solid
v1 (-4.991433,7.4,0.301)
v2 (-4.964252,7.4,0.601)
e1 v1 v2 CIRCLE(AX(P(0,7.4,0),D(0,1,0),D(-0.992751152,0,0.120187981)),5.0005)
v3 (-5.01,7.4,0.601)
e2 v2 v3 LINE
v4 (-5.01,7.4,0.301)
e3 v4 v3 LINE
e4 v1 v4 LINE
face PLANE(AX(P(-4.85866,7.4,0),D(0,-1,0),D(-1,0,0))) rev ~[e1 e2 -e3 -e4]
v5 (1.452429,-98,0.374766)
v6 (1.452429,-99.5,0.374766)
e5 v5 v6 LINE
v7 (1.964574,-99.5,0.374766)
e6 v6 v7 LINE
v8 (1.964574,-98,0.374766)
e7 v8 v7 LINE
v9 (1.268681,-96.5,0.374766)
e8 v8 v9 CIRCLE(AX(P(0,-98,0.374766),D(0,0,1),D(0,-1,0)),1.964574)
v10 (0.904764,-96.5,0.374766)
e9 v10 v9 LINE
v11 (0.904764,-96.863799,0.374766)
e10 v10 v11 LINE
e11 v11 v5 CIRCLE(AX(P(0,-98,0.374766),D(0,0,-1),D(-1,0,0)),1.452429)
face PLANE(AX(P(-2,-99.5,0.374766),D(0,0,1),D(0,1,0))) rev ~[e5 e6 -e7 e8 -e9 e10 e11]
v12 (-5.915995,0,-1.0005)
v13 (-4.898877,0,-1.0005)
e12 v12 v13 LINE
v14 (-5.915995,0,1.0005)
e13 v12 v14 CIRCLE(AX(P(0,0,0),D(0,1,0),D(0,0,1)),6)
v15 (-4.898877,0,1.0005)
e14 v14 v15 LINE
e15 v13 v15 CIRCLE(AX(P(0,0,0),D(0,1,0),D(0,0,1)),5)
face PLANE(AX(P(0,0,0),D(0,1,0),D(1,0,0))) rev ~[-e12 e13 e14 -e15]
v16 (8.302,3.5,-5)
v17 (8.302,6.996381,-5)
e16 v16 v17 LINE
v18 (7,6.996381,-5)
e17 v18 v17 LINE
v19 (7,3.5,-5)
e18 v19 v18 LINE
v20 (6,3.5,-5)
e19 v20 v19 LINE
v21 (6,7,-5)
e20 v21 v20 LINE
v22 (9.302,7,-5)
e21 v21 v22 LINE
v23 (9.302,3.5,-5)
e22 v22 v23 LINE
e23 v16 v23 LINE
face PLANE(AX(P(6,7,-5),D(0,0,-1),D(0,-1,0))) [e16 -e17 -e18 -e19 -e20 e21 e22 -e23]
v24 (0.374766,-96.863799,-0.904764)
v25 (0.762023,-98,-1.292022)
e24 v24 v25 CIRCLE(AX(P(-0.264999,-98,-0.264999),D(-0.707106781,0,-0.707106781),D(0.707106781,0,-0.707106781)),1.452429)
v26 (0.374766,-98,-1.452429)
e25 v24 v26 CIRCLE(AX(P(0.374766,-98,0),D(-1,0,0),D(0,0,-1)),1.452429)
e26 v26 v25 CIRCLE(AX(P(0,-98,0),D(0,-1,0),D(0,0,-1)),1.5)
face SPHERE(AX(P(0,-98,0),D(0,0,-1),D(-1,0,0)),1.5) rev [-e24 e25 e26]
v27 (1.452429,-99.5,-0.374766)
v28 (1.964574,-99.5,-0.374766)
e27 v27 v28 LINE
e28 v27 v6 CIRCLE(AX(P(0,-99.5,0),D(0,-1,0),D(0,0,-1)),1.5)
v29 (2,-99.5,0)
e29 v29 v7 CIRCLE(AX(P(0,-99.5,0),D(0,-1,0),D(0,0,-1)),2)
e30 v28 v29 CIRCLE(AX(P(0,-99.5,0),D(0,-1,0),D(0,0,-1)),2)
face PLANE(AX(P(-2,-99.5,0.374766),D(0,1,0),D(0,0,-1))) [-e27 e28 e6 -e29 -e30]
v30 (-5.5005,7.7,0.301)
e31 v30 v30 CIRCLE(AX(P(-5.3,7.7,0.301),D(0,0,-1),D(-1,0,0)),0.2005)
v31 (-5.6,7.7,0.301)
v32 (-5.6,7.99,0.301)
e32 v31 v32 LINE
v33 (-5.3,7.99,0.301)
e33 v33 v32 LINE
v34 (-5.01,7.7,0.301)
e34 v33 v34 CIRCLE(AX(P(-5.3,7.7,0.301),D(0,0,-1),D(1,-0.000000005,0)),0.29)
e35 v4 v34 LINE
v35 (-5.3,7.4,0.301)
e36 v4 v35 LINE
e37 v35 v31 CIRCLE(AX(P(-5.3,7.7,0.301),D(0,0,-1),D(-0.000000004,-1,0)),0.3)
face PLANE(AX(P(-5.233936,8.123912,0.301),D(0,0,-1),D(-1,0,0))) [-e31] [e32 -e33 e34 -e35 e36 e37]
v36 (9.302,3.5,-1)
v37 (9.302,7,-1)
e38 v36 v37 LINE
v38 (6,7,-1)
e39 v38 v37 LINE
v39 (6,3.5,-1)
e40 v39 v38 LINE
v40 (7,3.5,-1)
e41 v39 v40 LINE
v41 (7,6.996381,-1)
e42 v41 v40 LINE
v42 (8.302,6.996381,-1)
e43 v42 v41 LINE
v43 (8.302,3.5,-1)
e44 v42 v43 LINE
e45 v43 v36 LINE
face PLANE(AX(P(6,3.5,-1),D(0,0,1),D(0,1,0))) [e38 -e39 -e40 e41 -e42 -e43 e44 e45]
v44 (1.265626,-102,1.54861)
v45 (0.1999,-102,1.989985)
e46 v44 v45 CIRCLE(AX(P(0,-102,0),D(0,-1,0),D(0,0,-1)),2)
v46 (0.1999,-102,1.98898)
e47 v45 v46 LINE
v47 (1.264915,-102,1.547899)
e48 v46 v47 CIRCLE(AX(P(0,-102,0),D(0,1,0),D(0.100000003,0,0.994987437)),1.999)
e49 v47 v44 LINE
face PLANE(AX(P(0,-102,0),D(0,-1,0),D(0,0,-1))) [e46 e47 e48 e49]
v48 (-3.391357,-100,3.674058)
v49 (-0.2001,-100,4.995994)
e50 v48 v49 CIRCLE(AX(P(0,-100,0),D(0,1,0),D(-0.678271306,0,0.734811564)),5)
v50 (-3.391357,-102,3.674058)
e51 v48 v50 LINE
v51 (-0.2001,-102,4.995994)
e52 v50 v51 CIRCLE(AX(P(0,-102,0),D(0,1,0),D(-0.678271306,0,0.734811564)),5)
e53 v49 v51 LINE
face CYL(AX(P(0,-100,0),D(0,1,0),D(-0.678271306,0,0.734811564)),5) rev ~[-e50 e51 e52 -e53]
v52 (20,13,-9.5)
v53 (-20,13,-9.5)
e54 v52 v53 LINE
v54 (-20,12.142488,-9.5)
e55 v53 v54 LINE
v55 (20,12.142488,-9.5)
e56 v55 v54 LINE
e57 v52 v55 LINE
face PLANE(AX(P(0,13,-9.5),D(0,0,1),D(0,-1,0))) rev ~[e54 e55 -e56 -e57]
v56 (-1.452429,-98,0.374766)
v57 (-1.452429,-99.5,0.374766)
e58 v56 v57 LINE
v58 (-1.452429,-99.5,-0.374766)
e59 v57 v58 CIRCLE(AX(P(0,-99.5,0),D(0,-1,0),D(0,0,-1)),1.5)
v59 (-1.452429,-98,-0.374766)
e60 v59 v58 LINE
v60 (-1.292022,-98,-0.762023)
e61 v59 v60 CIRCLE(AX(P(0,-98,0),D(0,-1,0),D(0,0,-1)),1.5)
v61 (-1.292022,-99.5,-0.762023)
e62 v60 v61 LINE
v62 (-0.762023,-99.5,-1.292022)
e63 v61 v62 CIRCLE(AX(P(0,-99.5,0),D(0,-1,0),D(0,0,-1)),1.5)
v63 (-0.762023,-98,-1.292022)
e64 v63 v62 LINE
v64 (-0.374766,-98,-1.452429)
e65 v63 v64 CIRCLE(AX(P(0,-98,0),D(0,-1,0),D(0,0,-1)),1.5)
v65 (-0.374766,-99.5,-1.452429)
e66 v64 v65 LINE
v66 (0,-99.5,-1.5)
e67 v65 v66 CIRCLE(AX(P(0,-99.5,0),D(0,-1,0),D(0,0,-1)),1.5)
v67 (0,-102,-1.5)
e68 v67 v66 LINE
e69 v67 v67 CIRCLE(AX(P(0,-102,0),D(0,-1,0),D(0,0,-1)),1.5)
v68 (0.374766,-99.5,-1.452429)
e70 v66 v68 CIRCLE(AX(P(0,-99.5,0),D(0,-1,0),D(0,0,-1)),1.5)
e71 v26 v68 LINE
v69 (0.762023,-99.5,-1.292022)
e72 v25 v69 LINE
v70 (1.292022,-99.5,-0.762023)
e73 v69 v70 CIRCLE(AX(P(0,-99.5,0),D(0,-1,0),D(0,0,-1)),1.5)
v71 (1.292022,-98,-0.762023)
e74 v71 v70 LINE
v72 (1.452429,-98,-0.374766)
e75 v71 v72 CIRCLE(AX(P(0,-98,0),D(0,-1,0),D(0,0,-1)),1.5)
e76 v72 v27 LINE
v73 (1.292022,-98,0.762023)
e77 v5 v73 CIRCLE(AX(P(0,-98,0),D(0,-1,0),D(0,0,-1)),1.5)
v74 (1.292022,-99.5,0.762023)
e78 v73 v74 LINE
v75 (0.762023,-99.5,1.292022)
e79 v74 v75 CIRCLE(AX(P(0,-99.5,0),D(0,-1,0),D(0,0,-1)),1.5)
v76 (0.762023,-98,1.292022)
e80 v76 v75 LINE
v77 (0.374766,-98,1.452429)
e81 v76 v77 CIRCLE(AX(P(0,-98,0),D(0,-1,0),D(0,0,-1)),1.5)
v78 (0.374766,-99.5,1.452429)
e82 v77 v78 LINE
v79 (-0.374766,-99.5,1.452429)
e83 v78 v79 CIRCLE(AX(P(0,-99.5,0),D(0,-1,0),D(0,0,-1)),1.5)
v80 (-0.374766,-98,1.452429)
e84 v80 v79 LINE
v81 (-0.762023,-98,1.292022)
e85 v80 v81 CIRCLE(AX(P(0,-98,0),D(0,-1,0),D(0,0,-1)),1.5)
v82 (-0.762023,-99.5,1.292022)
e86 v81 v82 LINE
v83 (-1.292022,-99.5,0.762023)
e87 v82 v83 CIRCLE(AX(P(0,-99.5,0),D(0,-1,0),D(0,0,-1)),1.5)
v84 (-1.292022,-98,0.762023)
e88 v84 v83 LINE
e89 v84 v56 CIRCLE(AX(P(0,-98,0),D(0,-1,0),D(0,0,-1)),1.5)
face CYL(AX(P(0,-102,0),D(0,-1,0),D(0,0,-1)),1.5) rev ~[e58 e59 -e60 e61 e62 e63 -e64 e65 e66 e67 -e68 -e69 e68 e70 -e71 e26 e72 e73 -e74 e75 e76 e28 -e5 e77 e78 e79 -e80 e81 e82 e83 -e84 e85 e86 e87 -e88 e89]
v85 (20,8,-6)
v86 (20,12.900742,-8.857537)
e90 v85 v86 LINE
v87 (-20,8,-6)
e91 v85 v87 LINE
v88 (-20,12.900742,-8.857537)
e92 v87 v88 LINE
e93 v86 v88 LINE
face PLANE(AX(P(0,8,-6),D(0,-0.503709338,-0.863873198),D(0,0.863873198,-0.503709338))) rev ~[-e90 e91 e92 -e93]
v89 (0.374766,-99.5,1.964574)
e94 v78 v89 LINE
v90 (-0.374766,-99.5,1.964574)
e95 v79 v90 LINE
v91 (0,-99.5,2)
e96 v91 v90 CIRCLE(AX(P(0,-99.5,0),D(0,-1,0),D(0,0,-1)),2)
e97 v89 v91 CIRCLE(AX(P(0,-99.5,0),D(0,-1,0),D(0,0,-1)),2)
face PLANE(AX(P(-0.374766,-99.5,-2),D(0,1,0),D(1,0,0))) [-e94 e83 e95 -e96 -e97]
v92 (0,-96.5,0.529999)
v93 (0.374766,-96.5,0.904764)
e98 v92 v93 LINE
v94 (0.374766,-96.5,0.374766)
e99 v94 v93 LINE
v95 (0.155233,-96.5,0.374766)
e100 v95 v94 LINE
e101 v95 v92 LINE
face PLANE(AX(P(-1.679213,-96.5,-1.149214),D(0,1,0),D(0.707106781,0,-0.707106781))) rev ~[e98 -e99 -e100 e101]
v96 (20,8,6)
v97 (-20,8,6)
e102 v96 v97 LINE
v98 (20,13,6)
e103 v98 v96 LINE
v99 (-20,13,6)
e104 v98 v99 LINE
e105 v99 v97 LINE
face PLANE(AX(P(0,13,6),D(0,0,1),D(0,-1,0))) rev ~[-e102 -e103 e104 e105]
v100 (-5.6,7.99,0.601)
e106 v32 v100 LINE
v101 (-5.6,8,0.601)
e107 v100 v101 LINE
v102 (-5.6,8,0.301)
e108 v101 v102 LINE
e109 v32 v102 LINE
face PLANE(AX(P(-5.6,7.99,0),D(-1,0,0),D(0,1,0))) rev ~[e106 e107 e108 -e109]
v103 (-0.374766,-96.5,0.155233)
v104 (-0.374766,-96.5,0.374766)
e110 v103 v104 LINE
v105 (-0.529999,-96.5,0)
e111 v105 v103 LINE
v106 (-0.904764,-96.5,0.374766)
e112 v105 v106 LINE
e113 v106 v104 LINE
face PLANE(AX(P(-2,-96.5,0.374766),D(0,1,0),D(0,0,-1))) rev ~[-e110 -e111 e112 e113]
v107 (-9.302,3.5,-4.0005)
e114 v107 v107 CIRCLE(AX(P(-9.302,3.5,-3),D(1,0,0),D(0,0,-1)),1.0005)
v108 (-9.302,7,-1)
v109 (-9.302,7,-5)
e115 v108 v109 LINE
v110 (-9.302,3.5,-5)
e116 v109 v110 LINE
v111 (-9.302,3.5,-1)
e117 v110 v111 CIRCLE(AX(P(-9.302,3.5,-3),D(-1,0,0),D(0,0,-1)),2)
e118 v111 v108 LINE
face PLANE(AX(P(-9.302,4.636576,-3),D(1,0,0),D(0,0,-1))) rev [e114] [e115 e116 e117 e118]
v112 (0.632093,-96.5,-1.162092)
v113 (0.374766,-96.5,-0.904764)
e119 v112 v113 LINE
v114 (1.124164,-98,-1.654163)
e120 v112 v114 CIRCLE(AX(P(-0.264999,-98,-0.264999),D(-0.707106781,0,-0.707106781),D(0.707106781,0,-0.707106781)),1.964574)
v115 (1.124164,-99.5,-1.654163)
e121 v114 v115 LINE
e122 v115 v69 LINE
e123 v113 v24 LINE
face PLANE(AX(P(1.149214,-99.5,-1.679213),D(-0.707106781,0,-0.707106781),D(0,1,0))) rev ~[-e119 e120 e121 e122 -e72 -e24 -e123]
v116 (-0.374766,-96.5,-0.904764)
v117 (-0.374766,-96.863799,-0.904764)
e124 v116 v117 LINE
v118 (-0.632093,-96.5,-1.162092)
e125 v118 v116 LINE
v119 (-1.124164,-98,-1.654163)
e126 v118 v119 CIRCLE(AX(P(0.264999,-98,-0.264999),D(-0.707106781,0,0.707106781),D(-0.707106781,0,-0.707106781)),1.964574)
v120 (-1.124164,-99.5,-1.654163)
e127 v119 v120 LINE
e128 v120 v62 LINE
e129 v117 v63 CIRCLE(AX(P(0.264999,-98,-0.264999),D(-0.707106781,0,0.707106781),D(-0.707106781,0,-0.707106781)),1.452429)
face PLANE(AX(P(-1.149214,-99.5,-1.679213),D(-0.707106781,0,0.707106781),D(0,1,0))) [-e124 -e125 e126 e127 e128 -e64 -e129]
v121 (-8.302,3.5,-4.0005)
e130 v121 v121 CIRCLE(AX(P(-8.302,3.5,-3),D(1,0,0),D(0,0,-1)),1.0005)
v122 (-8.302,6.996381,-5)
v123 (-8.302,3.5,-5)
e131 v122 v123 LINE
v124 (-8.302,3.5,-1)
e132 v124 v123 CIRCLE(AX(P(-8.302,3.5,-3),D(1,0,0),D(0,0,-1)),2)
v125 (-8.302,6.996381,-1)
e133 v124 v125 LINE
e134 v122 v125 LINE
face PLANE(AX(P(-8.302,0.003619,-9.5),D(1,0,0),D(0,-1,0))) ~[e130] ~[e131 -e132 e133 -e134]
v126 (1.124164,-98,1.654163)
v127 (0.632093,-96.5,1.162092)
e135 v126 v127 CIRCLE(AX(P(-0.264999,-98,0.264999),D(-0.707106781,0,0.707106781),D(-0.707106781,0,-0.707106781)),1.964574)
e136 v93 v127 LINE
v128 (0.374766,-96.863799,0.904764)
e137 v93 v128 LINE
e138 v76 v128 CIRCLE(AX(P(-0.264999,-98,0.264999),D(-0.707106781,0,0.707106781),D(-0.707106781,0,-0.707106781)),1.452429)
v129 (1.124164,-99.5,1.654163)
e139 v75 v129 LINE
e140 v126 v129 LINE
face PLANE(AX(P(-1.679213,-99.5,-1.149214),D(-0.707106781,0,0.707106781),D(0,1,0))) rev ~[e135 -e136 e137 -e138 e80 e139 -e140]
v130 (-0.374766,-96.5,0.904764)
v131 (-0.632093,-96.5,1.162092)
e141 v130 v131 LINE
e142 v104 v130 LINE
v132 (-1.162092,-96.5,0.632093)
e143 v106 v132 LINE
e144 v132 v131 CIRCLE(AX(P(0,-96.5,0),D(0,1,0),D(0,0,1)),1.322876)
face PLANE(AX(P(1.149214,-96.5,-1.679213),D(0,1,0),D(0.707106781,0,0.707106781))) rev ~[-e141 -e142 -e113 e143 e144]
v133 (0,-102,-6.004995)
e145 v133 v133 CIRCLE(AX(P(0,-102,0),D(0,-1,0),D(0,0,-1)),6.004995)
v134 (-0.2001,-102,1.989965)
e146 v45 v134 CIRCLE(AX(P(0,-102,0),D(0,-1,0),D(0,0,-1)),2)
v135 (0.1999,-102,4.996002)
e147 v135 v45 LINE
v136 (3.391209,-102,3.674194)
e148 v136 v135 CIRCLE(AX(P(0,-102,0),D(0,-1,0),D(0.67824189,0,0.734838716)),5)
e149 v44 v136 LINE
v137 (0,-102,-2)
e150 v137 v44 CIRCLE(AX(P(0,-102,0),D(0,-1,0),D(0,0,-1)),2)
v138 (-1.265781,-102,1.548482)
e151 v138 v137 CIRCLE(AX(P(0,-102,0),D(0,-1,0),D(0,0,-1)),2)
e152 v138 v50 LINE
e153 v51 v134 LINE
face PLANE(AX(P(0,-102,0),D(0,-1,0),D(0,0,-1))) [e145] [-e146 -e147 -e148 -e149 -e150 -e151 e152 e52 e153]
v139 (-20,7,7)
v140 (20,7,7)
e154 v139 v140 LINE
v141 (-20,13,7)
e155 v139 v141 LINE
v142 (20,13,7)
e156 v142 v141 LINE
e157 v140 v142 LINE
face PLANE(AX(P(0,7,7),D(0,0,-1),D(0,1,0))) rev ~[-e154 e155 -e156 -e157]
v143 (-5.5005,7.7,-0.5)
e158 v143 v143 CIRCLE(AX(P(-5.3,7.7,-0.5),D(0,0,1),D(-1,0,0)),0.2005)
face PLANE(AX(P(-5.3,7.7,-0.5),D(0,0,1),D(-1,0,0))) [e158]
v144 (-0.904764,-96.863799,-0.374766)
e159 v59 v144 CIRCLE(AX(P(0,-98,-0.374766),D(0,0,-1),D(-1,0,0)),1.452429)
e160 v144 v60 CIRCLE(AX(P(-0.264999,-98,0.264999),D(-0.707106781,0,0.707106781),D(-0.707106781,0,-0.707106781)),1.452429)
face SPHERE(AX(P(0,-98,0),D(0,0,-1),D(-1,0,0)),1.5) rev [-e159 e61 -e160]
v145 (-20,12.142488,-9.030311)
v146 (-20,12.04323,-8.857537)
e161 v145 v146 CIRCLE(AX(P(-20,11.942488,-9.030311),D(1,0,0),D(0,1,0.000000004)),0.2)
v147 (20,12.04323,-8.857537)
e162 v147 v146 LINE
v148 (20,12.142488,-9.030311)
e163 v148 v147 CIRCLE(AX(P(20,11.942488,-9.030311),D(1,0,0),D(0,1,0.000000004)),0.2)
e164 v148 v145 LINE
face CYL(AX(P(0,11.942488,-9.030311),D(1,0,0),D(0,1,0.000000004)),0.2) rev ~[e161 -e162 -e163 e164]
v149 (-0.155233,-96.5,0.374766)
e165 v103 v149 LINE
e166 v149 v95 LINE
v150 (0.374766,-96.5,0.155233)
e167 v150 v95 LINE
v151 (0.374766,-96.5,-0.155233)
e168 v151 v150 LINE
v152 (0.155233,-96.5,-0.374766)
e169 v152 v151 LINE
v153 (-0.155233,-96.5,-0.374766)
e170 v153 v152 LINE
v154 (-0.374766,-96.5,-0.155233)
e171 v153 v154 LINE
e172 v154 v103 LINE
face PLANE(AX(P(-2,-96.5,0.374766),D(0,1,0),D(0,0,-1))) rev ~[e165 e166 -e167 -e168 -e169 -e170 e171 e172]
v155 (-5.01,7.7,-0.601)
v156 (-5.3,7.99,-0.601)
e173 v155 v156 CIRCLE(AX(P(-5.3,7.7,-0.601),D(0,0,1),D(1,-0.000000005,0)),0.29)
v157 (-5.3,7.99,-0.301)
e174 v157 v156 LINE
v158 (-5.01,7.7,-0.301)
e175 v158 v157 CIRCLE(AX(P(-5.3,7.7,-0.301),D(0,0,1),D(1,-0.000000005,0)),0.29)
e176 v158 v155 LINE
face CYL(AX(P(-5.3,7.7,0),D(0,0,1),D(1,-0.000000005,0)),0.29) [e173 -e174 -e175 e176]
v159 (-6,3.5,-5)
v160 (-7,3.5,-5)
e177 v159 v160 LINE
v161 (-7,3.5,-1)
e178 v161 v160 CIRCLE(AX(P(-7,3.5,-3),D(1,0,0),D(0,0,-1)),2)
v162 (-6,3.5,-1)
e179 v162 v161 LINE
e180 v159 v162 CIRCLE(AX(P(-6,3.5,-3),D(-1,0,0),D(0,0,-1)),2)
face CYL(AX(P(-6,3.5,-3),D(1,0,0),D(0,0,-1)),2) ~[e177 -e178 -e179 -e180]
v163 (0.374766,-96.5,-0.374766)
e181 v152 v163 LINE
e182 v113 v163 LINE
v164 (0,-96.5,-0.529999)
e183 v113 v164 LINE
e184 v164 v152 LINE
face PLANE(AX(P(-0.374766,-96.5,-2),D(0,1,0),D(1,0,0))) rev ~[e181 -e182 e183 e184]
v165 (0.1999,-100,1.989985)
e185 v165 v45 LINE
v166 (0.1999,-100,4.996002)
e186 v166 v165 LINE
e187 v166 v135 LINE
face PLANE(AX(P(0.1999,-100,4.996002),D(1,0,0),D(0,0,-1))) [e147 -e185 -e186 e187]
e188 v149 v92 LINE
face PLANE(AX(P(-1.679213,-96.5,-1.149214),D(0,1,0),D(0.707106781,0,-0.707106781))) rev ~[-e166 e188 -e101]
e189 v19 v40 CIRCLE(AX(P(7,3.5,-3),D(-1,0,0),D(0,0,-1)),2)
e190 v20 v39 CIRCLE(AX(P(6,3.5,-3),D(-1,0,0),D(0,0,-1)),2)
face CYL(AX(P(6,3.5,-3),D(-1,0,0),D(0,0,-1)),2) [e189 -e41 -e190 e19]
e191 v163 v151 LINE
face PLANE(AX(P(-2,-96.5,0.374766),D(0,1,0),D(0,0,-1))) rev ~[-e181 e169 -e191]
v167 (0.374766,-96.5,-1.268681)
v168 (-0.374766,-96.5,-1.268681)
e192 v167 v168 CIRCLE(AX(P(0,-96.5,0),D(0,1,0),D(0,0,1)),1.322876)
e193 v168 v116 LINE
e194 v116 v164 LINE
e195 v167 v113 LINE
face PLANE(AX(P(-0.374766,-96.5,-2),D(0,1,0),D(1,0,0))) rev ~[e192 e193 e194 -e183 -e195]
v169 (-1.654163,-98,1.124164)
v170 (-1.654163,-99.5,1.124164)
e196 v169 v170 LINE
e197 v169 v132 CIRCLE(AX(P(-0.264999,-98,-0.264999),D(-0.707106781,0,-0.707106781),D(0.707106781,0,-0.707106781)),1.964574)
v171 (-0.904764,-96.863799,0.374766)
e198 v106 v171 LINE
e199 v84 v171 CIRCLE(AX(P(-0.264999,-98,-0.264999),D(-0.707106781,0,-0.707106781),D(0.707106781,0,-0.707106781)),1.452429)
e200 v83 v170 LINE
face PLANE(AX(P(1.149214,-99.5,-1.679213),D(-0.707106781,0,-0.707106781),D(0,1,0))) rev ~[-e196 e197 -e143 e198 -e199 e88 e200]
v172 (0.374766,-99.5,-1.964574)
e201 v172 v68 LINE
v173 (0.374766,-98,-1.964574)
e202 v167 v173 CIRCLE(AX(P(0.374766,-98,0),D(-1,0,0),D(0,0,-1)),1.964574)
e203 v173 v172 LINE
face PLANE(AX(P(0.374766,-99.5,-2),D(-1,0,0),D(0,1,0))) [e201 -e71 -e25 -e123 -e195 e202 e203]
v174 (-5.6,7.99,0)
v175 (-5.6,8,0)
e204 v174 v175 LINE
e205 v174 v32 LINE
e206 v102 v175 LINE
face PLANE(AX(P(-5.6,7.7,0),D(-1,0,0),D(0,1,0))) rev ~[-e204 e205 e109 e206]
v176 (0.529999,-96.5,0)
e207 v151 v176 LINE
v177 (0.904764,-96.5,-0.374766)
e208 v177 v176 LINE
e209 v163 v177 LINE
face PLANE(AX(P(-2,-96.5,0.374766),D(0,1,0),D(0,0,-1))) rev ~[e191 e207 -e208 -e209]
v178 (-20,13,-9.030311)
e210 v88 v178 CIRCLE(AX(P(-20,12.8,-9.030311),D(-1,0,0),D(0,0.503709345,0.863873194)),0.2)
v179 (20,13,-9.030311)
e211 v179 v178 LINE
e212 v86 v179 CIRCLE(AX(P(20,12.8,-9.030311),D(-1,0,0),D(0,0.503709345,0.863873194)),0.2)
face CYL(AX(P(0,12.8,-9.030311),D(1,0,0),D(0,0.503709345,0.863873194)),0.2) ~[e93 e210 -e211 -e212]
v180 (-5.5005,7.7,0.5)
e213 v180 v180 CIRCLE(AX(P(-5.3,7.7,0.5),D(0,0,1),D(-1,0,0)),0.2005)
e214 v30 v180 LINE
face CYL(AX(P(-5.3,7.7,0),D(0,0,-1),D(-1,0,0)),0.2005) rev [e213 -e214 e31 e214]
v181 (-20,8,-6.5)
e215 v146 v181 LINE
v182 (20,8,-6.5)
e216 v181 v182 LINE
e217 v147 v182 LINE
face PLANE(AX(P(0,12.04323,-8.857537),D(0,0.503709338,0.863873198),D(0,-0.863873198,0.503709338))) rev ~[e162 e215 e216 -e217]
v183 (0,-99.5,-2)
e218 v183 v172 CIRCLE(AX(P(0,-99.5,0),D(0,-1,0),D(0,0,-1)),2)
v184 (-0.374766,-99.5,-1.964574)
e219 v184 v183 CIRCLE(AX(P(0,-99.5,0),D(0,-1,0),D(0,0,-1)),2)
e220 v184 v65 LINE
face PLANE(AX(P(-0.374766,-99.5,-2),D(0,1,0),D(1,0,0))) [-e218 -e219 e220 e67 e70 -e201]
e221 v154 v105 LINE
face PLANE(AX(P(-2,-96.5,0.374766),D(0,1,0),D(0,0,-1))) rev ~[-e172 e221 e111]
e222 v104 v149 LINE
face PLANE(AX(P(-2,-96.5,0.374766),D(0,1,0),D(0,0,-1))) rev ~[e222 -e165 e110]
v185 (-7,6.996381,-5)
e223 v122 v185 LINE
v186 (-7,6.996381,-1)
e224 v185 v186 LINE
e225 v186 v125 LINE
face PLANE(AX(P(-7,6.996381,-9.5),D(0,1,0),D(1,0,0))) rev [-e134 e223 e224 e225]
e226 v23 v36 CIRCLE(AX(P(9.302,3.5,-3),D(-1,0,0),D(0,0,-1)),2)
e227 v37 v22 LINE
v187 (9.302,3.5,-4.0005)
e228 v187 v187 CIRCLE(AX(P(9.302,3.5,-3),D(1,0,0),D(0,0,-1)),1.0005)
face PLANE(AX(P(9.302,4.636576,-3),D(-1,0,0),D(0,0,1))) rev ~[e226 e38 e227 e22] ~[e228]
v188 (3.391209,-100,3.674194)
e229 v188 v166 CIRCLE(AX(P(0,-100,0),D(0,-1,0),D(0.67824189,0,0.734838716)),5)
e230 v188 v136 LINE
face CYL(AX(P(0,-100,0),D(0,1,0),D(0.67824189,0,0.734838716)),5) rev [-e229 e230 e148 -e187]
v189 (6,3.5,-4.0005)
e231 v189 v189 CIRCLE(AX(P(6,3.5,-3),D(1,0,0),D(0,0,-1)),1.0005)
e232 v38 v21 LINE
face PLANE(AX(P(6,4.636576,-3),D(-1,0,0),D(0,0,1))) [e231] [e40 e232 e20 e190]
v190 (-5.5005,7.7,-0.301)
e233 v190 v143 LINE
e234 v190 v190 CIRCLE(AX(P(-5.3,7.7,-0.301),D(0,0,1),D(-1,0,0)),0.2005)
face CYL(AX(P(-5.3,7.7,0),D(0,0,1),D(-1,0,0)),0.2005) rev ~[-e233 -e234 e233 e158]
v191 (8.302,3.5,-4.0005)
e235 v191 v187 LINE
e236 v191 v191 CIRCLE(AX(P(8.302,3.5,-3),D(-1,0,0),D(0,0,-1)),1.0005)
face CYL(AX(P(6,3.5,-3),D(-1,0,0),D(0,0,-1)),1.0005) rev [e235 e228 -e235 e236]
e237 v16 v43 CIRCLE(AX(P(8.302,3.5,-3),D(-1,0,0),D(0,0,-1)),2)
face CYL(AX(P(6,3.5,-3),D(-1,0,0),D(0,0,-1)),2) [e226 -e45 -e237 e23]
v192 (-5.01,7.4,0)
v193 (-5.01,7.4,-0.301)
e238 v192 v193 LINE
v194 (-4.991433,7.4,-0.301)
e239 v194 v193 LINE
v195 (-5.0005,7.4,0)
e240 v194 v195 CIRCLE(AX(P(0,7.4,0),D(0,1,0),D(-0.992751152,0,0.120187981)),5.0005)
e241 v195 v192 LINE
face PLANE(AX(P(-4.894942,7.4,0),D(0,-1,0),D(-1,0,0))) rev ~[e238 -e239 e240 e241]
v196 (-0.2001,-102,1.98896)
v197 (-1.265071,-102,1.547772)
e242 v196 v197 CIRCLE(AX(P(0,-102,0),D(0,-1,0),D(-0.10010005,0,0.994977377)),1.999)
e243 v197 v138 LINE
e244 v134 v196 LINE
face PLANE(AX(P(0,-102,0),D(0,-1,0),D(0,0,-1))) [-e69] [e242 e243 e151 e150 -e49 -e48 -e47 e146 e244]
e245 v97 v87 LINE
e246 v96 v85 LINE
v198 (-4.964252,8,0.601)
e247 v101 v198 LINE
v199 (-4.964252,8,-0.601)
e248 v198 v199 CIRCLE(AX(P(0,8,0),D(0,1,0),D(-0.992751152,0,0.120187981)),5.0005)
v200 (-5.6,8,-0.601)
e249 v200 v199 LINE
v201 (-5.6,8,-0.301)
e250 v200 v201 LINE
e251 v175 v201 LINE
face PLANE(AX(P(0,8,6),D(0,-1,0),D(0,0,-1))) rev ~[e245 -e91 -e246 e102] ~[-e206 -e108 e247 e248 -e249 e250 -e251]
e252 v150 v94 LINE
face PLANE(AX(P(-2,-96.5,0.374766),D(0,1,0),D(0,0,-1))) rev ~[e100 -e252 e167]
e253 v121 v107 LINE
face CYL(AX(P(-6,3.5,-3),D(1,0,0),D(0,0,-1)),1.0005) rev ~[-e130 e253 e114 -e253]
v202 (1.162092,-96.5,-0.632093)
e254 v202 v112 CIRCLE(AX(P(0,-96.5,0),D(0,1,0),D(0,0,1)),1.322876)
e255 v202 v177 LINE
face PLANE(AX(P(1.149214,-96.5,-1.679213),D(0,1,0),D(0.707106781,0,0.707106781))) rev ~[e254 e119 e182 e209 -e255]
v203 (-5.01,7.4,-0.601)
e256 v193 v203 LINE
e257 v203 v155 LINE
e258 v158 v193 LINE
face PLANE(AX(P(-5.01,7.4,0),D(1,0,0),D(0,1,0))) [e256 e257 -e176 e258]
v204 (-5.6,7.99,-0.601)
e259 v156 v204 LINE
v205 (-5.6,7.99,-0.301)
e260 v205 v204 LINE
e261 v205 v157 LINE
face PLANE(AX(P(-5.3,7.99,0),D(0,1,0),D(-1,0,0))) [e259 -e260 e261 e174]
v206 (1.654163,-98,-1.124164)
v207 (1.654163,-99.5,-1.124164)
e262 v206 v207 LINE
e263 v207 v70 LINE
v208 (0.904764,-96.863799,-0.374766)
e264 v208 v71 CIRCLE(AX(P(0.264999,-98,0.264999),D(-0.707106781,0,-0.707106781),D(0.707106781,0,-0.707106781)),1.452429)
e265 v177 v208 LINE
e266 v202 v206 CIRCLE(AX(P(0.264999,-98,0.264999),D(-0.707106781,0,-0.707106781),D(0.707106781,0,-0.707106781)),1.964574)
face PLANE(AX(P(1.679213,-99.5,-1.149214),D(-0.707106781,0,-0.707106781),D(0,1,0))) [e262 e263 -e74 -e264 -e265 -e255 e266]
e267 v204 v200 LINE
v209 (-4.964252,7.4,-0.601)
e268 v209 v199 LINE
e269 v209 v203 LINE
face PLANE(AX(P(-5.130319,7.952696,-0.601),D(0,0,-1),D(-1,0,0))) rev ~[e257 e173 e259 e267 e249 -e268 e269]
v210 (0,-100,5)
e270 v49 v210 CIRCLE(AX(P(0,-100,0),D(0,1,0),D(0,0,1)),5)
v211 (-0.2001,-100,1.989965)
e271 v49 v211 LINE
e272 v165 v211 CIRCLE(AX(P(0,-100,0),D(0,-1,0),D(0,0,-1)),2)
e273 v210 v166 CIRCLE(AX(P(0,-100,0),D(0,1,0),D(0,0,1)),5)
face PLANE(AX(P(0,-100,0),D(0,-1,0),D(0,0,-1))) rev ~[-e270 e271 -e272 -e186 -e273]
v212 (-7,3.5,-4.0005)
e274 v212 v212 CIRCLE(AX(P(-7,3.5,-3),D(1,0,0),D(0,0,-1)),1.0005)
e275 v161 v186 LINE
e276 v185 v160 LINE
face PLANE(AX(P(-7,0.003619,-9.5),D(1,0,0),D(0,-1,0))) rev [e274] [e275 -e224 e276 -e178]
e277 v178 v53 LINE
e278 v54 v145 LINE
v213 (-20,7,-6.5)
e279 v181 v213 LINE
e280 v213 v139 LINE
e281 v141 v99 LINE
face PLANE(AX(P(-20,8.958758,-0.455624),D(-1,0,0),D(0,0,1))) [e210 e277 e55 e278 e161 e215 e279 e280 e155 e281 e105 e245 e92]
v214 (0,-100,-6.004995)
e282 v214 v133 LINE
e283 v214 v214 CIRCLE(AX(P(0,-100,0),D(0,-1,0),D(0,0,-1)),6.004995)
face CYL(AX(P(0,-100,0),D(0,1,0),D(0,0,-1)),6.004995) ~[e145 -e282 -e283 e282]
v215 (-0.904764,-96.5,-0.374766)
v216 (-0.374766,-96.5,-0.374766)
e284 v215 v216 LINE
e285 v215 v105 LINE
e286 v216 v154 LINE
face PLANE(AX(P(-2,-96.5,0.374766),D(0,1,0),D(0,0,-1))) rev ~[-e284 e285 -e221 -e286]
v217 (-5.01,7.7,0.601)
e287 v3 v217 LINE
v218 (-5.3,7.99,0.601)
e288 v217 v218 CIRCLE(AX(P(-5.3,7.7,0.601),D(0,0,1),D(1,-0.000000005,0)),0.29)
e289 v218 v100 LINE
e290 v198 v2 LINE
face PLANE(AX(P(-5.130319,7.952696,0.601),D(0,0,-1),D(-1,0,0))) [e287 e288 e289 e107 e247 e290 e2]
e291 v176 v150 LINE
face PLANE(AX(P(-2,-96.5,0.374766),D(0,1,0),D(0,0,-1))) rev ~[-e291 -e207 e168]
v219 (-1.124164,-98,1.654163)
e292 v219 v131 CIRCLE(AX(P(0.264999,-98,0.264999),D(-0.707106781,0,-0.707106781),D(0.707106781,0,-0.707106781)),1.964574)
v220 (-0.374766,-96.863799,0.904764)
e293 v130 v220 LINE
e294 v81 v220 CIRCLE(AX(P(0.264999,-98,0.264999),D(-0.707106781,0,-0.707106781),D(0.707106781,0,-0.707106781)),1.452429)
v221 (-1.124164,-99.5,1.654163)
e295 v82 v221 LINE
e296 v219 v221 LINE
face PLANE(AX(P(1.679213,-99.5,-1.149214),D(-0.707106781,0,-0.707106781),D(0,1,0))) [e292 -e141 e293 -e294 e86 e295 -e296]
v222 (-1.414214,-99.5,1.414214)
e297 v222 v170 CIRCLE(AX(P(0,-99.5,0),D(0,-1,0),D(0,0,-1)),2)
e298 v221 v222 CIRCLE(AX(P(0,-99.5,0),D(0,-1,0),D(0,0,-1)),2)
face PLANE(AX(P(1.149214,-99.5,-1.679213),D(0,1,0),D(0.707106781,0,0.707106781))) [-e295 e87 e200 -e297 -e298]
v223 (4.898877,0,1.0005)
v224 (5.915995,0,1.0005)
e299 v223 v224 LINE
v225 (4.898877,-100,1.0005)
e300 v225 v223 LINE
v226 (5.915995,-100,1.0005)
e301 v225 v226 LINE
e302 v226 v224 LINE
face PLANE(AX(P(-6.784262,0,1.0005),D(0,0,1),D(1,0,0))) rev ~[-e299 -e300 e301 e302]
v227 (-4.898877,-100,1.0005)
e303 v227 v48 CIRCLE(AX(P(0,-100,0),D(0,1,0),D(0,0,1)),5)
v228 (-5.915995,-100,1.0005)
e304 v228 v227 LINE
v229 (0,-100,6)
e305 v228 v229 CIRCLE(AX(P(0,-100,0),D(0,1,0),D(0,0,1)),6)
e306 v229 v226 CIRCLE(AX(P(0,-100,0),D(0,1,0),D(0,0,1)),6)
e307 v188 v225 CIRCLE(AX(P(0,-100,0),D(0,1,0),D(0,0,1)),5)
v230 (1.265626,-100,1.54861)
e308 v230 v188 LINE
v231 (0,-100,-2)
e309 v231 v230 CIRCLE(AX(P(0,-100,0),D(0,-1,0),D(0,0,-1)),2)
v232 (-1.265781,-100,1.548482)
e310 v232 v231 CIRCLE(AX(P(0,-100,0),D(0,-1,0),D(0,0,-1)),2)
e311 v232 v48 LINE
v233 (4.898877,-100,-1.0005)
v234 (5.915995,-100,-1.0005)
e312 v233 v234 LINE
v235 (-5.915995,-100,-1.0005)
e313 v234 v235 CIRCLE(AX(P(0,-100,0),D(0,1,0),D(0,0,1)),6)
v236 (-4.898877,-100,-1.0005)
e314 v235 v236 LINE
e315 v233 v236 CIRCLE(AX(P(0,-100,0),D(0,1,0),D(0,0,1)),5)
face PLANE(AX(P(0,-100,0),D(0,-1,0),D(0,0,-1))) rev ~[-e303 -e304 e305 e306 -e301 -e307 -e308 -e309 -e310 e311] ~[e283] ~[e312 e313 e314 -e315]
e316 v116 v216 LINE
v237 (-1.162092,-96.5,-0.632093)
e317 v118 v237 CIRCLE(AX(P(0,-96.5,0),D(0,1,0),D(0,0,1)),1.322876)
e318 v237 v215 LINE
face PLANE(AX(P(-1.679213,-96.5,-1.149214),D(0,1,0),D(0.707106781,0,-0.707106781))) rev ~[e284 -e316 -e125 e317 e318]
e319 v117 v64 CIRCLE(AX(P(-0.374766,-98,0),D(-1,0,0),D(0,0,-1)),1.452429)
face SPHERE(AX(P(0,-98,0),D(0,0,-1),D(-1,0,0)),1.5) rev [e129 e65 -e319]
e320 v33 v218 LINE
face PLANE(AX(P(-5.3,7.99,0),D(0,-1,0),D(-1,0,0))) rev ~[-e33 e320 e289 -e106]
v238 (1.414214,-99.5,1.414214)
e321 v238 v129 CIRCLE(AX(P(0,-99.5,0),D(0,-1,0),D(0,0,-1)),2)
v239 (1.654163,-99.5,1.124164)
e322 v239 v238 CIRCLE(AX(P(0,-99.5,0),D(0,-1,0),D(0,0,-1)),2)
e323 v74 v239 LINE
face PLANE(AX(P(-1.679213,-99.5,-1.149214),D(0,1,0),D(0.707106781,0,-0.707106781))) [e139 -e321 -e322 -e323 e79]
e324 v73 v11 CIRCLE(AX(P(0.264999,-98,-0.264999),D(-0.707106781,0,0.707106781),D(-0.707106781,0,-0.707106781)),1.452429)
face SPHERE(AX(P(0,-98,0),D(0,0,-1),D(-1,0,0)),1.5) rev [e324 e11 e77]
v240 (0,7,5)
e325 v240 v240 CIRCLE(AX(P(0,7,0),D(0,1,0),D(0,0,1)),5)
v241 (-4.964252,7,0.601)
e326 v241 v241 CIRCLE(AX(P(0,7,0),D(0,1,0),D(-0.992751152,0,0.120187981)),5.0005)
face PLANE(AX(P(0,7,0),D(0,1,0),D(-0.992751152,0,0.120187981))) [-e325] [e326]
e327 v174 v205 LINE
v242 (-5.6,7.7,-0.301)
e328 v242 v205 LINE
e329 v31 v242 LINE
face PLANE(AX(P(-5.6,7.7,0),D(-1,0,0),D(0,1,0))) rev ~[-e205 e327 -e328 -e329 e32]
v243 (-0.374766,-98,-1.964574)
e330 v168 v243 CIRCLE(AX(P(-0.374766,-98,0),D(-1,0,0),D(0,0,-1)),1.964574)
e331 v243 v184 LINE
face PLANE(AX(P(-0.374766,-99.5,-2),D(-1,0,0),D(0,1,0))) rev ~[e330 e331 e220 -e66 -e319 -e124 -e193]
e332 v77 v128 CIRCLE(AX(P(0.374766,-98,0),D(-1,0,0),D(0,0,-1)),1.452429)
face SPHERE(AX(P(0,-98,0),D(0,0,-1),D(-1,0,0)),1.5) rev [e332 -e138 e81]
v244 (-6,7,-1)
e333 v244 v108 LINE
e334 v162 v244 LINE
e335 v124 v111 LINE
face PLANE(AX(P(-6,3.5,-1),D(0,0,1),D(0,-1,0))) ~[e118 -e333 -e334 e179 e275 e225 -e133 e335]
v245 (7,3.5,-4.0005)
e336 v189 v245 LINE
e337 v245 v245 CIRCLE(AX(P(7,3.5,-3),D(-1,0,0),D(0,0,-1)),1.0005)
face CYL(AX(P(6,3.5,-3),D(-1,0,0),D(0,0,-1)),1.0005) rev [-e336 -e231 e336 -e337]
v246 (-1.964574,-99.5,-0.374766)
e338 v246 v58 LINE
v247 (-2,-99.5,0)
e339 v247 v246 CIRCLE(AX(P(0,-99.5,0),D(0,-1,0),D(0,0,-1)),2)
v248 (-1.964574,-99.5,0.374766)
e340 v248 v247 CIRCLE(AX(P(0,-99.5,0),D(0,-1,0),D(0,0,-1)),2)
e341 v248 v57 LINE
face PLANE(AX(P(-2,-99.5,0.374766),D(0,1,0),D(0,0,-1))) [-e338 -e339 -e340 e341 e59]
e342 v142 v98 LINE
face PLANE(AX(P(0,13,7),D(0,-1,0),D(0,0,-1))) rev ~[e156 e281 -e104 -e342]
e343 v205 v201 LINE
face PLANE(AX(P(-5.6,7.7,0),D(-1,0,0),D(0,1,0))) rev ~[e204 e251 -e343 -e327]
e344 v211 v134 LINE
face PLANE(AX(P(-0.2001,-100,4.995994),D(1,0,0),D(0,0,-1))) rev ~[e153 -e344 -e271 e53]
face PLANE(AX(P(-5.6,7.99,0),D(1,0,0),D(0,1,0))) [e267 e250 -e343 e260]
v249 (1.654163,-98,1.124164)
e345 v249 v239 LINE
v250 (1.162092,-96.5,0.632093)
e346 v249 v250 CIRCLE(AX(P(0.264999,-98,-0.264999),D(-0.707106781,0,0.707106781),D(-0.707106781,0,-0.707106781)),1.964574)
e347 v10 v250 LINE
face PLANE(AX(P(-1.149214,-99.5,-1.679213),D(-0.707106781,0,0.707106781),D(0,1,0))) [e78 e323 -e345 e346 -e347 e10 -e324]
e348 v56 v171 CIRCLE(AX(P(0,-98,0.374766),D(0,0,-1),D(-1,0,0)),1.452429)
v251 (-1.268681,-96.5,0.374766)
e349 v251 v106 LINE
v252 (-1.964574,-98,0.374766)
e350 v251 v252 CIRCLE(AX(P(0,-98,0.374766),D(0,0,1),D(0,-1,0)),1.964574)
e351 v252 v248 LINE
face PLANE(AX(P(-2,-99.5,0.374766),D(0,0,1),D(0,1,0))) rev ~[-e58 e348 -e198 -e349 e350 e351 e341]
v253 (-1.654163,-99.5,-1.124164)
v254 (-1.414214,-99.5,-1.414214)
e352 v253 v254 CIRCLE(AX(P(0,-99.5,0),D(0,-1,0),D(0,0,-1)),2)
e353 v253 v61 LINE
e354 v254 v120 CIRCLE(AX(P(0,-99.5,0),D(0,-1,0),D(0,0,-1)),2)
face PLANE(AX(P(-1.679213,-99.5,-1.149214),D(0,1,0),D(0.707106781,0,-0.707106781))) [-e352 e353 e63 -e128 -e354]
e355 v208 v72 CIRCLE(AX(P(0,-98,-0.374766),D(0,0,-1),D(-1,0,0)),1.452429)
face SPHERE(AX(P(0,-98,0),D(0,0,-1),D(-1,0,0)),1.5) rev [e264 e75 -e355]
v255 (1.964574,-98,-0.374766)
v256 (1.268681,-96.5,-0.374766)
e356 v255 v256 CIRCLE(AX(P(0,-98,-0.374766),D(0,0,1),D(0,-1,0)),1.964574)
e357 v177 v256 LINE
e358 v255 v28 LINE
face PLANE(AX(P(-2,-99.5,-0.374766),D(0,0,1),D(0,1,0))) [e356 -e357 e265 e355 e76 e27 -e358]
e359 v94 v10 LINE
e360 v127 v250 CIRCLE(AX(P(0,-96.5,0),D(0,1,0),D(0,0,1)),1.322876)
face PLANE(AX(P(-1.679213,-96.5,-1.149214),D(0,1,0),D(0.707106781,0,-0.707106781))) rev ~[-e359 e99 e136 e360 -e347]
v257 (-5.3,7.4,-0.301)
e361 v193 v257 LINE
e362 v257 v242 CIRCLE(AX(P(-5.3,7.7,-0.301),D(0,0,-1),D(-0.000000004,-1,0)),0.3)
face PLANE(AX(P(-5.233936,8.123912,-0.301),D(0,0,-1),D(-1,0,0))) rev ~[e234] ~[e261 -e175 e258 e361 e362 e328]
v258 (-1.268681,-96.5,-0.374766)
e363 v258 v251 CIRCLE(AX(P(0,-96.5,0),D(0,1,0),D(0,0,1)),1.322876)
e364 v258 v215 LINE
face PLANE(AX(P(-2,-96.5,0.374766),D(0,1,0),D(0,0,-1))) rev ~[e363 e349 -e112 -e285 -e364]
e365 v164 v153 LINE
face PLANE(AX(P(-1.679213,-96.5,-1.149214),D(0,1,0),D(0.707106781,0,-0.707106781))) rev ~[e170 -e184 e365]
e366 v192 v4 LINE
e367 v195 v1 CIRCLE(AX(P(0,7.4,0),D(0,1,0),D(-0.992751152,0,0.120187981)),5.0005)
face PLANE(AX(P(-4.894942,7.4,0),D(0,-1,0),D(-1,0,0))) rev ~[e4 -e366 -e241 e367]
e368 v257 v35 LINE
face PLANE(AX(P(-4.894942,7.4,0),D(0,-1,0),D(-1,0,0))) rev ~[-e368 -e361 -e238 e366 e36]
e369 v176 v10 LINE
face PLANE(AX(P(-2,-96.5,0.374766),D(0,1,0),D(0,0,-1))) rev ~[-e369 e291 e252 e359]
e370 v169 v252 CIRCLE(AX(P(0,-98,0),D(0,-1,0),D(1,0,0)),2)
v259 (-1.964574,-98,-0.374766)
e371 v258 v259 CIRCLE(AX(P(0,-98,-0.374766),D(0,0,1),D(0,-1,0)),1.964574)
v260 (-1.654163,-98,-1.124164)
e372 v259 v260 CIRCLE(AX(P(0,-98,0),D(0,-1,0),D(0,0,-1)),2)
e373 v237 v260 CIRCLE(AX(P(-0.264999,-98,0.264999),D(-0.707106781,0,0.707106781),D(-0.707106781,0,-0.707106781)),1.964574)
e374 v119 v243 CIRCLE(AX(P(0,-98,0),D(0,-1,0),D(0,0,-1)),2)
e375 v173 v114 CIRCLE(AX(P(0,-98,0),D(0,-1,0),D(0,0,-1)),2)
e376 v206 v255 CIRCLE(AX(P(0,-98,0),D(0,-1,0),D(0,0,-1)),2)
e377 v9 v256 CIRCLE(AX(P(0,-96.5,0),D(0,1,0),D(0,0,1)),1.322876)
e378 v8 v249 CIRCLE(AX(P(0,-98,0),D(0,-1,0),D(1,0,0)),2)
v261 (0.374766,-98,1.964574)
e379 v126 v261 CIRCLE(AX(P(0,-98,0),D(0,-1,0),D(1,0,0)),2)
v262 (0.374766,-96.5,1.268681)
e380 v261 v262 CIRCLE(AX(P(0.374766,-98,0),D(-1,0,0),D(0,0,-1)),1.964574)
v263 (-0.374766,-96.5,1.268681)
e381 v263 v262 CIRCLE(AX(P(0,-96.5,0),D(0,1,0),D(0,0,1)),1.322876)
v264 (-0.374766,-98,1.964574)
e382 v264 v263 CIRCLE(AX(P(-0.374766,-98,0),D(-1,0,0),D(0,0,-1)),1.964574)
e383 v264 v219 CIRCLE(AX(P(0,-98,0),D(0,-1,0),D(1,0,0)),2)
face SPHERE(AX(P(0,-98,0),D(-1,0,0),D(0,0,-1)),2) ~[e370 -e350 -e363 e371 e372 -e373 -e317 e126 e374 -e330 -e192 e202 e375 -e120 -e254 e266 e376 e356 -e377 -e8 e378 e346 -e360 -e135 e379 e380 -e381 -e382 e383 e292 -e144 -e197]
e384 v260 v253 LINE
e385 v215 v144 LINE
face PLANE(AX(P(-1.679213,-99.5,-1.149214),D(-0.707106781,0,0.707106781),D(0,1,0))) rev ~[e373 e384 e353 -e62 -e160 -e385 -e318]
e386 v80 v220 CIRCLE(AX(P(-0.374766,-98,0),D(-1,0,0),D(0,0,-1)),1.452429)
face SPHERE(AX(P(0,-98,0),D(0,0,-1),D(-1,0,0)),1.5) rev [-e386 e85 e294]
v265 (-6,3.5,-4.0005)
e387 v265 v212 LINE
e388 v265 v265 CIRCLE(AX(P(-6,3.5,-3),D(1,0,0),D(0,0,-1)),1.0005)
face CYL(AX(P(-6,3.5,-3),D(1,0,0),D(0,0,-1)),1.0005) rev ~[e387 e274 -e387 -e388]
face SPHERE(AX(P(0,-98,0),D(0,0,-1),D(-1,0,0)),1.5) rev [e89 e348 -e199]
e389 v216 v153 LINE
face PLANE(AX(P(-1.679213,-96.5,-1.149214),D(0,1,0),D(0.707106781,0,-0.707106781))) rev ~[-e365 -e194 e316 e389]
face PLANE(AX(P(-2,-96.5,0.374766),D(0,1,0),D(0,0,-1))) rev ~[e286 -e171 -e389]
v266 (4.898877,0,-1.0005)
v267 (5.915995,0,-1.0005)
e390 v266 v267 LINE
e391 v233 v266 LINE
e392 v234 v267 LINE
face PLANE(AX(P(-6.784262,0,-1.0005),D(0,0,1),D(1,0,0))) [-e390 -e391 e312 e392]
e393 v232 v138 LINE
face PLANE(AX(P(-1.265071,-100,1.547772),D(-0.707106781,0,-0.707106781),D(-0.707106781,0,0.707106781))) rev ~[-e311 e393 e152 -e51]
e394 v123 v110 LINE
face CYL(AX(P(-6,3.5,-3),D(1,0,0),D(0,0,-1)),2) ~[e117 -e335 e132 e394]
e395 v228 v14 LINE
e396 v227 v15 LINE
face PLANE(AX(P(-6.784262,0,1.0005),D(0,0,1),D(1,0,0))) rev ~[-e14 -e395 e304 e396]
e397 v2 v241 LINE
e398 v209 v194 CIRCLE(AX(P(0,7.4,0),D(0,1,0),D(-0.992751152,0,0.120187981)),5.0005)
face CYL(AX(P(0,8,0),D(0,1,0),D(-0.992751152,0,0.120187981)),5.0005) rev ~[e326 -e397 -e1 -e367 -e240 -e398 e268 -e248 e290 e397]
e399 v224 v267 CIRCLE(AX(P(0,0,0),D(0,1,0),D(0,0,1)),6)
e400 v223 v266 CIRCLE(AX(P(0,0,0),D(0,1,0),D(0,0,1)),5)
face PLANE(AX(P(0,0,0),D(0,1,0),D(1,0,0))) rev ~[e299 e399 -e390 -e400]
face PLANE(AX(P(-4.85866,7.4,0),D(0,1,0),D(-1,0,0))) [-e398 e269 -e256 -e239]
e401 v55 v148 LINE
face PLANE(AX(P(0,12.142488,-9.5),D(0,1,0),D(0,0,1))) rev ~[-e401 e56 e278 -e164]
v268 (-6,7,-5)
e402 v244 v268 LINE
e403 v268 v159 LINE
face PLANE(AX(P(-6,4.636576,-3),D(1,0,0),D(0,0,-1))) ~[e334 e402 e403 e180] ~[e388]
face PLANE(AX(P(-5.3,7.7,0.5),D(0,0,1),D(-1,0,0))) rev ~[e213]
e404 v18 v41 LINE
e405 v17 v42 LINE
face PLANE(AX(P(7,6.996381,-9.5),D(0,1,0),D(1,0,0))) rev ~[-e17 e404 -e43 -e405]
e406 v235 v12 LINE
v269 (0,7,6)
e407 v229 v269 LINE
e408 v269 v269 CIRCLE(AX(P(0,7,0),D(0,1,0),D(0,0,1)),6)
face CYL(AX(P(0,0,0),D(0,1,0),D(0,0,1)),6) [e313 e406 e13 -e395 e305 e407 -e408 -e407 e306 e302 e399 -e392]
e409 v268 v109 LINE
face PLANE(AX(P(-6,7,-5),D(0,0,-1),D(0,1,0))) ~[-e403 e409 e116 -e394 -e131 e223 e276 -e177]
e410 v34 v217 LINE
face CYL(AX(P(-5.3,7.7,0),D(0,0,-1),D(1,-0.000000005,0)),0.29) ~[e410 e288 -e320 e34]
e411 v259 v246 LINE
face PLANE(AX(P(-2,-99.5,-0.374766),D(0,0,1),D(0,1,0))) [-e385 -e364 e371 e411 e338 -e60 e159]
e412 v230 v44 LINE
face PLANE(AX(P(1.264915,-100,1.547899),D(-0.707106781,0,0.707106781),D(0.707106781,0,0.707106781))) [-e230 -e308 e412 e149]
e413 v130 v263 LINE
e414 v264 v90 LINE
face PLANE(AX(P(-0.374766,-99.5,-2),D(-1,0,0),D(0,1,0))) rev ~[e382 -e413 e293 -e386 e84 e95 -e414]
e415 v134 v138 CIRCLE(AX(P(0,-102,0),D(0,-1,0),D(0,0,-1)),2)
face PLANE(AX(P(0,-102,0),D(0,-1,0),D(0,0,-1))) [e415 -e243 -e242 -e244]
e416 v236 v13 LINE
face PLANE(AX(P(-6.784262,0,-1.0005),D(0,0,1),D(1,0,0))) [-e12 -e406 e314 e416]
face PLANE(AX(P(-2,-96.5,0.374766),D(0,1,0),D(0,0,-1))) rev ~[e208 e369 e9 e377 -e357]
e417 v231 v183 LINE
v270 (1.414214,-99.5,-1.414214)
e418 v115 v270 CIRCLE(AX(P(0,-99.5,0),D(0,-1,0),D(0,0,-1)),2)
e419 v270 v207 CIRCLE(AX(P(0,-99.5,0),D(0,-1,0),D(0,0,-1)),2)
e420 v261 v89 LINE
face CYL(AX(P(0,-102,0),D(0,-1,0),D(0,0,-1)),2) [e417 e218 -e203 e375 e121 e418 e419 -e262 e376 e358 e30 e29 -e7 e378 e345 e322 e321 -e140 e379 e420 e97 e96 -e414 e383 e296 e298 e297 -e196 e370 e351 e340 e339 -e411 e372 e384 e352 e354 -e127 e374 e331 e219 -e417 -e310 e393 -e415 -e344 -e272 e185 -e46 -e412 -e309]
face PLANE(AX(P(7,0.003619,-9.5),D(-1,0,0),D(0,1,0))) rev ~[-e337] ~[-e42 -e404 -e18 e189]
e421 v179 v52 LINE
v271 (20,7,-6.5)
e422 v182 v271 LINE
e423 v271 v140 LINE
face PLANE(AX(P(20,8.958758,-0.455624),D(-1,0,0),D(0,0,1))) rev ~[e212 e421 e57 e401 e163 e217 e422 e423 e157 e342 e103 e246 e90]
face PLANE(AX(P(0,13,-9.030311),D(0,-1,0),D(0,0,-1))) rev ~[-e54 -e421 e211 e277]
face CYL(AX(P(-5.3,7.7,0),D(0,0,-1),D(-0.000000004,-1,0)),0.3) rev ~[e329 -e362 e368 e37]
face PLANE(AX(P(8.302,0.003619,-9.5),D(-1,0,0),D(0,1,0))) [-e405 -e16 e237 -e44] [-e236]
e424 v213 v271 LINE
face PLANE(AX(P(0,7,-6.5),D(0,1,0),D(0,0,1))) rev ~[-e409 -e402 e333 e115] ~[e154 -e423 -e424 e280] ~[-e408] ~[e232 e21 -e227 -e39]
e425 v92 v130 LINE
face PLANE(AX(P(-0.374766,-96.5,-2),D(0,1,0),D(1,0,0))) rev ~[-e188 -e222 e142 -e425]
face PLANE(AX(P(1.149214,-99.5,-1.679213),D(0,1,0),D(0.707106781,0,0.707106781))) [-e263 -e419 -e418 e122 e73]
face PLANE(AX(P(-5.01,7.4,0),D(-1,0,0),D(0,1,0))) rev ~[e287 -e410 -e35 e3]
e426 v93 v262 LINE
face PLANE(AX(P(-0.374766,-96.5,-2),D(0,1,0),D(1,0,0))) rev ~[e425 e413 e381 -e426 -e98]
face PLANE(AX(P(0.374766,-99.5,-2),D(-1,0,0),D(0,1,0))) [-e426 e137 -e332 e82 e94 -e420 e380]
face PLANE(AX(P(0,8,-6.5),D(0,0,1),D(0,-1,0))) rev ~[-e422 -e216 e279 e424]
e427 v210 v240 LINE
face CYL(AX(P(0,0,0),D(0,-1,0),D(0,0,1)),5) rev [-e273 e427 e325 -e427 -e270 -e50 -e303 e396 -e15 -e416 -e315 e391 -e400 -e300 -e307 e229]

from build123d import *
from build123d.topology import SkipClean

# Parameters (mm, degrees)
SKETCH1_R                = 6
SKETCH1_R_2              = 5
BOSS_EXTRUDE1_DEPTH      = 8
BOSS_EXTRUDE1_DEPTH_BACK = 100
SKETCH2_W                = 13.568523926
SKETCH2_H                = 2.001
CUT_EXTRUDE1_DEPTH       = 100
BOSS_EXTRUDE5_DEPTH      = 20
BOSS_EXTRUDE5_DEPTH_BACK = 20
CUT_EXTRUDE3_DEPTH       = 0.301
CUT_EXTRUDE3_DEPTH_BACK  = 0.301
SKETCH4_R                = 0.2005
CUT_EXTRUDE4_DEPTH       = 0.5
CUT_EXTRUDE4_DEPTH_BACK  = 0.5
SKETCH7_R                = 6.004995175
BOSS_EXTRUDE3_DEPTH      = 2
SKETCH8_R                = 2
BOSS_EXTRUDE4_DEPTH      = 4
REVOLVE1_ANGLE           = 180
SKETCH10_R               = 1.5
CUT_EXTRUDE6_DEPTH       = 4
CUT_EXTRUDE7_START       = -2
SKETCH12_W               = 0.749531432
SKETCH12_H               = 3
CUT_EXTRUDE7_DEPTH       = 4
CIRPATTERN1_COUNT        = 4
CIRPATTERN1_ANGLE        = 135
CUT_EXTRUDE10_DEPTH      = 0.601
CUT_EXTRUDE10_DEPTH_BACK = 0.601
SKETCH17_R               = 5.0005
CUT_EXTRUDE11_DEPTH      = 1
SKETCH18_R               = 1.0005
BOSS_EXTRUDE6_DEPTH      = 3.302
CUT_EXTRUDE12_START      = -8.5
SKETCH19_W               = 1.302
SKETCH19_H               = 6.992761226
CUT_EXTRUDE12_DEPTH      = 16.5


with BuildPart() as part:
    # Sketch1 → Boss-Extrude1 (new body, two sides)
    with BuildSketch(Plane(origin=(0, 0, 0), x_dir=(1, 0, 0), z_dir=(0, 1, 0))) as boss_extrude1_sk:
        with Locations(Location((0, 0, 0), (0, 0, 270))):  # turned: the seam where the file's is
            Circle(SKETCH1_R)
        with Locations(Location((0, 0, 0), (0, 0, 270))):  # turned: the seam where the file's is
            Circle(SKETCH1_R_2, mode=Mode.SUBTRACT)
    extrude(amount=BOSS_EXTRUDE1_DEPTH)
    extrude(boss_extrude1_sk.sketch, amount=-BOSS_EXTRUDE1_DEPTH_BACK)

    # Sketch2 → Cut-Extrude1 (cut)
    with BuildSketch(Plane(origin=(0, 0, 0), x_dir=(1, 0, 0), z_dir=(0, 1, 0))):
        Rectangle(SKETCH2_W, SKETCH2_H)
    extrude(amount=-CUT_EXTRUDE1_DEPTH, mode=Mode.SUBTRACT)

    # Sketch14 → Boss-Extrude5 (add, two sides)
    with BuildSketch(Plane(origin=(0, 0, 0), x_dir=(0, 0, -1), z_dir=(1, 0, 0))) as boss_extrude5_sk:
        with BuildLine():
            Line((-7, 7), (-7, 13))
            Line((-7, 13), (-6, 13))
            Line((-6, 13), (-6, 8))
            Line((-6, 8), (6, 8))
            Line((6, 8), (8.857536784, 12.900741868))
            ThreePointArc((8.857536784, 12.900741868), (8.930683048, 12.973419107), (9.030311424, 13))
            Line((9.030311424, 13), (9.5, 13))
            Line((9.5, 13), (9.5, 12.142488402))
            Line((9.5, 12.142488402), (9.030311424, 12.142488402))
            ThreePointArc((9.030311424, 12.142488402), (8.930683048, 12.115907509), (8.857536784, 12.04323027))
            Line((8.857536784, 12.04323027), (6.5, 8))
            Line((6.5, 8), (6.5, 7))
            Line((6.5, 7), (-7, 7))
        make_face()
    extrude(amount=BOSS_EXTRUDE5_DEPTH)
    extrude(boss_extrude5_sk.sketch, amount=-BOSS_EXTRUDE5_DEPTH_BACK)

    # Sketch3 → Cut-Extrude3 (cut, two sides)
    with BuildSketch(Plane.XY) as cut_extrude3_sk:
        with BuildLine():
            Line((-5.6, 8), (-5.6, 8.797930369))
            Line((-5.6, 8.797930369), (-4.894941581, 8.797930369))
            Line((-4.894941581, 8.797930369), (-4.894941581, 7.4))
            Line((-4.894941581, 7.4), (-5, 7.4))
            Line((-5, 7.4), (-5.3, 7.4))
            ThreePointArc((-5.3, 7.4), (-5.512132034, 7.487867966), (-5.6, 7.7))
            Line((-5.6, 7.7), (-5.6, 8))
        make_face()
    extrude(amount=CUT_EXTRUDE3_DEPTH, mode=Mode.SUBTRACT)
    extrude(cut_extrude3_sk.sketch, amount=-CUT_EXTRUDE3_DEPTH_BACK, mode=Mode.SUBTRACT)

    # Sketch4 → Cut-Extrude4 (cut, two sides)
    with BuildSketch(Plane.XY) as cut_extrude4_sk:
        with Locations(Location((-5.3, 7.7, 0), (0, 0, 180))):  # turned: the seam where the file's is
            Circle(SKETCH4_R)
    extrude(amount=CUT_EXTRUDE4_DEPTH, mode=Mode.SUBTRACT)
    extrude(cut_extrude4_sk.sketch, amount=-CUT_EXTRUDE4_DEPTH_BACK, mode=Mode.SUBTRACT)

    # Sketch7 → Boss-Extrude3 (add)
    with SkipClean():  # keep this step's faces unmerged: merging them makes the solid invalid here
        with BuildSketch(Plane(origin=(0, -100, 0), x_dir=(-1, 0, 0), z_dir=(0, -1, 0))):
            with Locations(Location((0, 0, 0), (0, 0, 90))):  # turned: the seam where the file's is
                Circle(SKETCH7_R)
            with BuildLine():
                Line((0.2001, -4.995994395), (0.2001, -1.988959776))
                ThreePointArc((0.2001, -1.988959776), (0.765077034, -1.846796722), (1.26507052, -1.547771811))
                Line((1.26507052, -1.547771811), (3.391356531, -3.674057822))
                ThreePointArc((3.391356531, -3.674057822), (1.913509623, -4.619359363), (0.2001, -4.995994395))
            make_face(mode=Mode.SUBTRACT)
            with BuildLine():
                Line((-0.1999, -4.996002401), (-0.1999, -1.988979887))
                ThreePointArc((-0.1999, -1.988979887), (-0.764891326, -1.846873644), (-1.264914878, -1.547899012))
                Line((-1.264914878, -1.547899012), (-3.391209448, -3.674193582))
                ThreePointArc((-3.391209448, -3.674193582), (-1.913324699, -4.619435961), (-0.1999, -4.996002401))
            make_face(mode=Mode.SUBTRACT)
        extrude(amount=BOSS_EXTRUDE3_DEPTH)

    # Sketch8 → Boss-Extrude4 (add)
    with SkipClean():  # keep this step's faces unmerged: merging them makes the solid invalid here
        with BuildSketch(Plane(origin=(0, -102, 0), x_dir=(-1, 0, 0), z_dir=(0, -1, 0))):
            with Locations(Location((0, 0, 0), (0, 0, 90))):  # turned: the seam where the file's is
                Circle(SKETCH8_R)
        extrude(amount=-BOSS_EXTRUDE4_DEPTH)

    # Sketch9 → Revolve1 (revolve)
    with SkipClean():  # keep this step's faces unmerged: merging them makes the solid invalid here
        with BuildSketch(Plane(origin=(0, -98, 0), x_dir=(1, 0, 0), z_dir=(0, 1, 0))):
            with BuildLine():
                Line((-2, 0), (2, 0))
                ThreePointArc((2, 0), (0, 2), (-2, 0))
            make_face()
        revolve(axis=Axis((-2, -98, 0), (1, 0, 0)), revolution_arc=REVOLVE1_ANGLE)

    # Sketch10 → Cut-Extrude6 (cut)
    with SkipClean():  # keep this step's faces unmerged: merging them makes the solid invalid here
        with BuildSketch(Plane.XZ.offset(102)):
            with Locations(Location((0, 0, 0), (0, 0, 270))):  # turned: the seam where the file's is
                Circle(SKETCH10_R)
        extrude(amount=-CUT_EXTRUDE6_DEPTH, mode=Mode.SUBTRACT)

    # Sketch11 → Cut-Revolve3 (revolve, cut)
    with SkipClean():  # keep this step's faces unmerged: merging them makes the solid invalid here
        with BuildSketch(Plane.XZ.offset(98)):
            with BuildLine():
                Line((0, -1.5), (0, 1.5))
                ThreePointArc((0, 1.5), (-1.5, 0), (0, -1.5))
            make_face()
        revolve(axis=Axis((0, -98, -1.5), (0, 0, 1)), mode=Mode.SUBTRACT)

    # Sketch12 → Cut-Extrude7 (cut)
    with SkipClean():  # keep this step's faces unmerged: merging them makes the solid invalid here
        with BuildSketch(Plane(origin=(0, 0, 0), x_dir=(0, 0, -1), z_dir=(1, 0, 0)).offset(CUT_EXTRUDE7_START)):
            with Locations((0, -98)):
                Rectangle(SKETCH12_W, SKETCH12_H)
        cut_extrude7 = extrude(amount=CUT_EXTRUDE7_DEPTH, mode=Mode.SUBTRACT)

    # CirPattern1: Cut-Extrude7 ×4 about axis
    with SkipClean():  # keep this step's faces unmerged: merging them makes the solid invalid here
        cirpattern1_axis = Axis((0, 0, 0), (0, -1, 0))
        for i in range(1, CIRPATTERN1_COUNT):
            add(cut_extrude7.rotate(cirpattern1_axis, i * CIRPATTERN1_ANGLE / (CIRPATTERN1_COUNT - 1)), mode=Mode.SUBTRACT)

    # Sketch16 → Cut-Extrude10 (cut, two sides)
    with SkipClean():  # keep this step's faces unmerged: merging them makes the solid invalid here
        with BuildSketch(Plane.XY) as cut_extrude10_sk:
            with BuildLine():
                Line((-5.3, 7.99), (-5.6, 7.99))
                Line((-5.6, 7.99), (-5.6, 8.300814289))
                Line((-5.6, 8.300814289), (-4.858660394, 8.300814289))
                Line((-4.858660394, 8.300814289), (-4.858660394, 7.4))
                Line((-4.858660394, 7.4), (-5.01, 7.4))
                Line((-5.01, 7.4), (-5.01, 7.7))
                ThreePointArc((-5.01, 7.7), (-5.094939033, 7.905060967), (-5.3, 7.99))
            make_face()
        extrude(amount=CUT_EXTRUDE10_DEPTH, mode=Mode.SUBTRACT)
        extrude(cut_extrude10_sk.sketch, amount=-CUT_EXTRUDE10_DEPTH_BACK, mode=Mode.SUBTRACT)

    # Sketch17 → Cut-Extrude11 (cut)
    with SkipClean():  # keep this step's faces unmerged: merging them makes the solid invalid here
        with BuildSketch(Plane(origin=(0, 8, 0), x_dir=(1, 0, 0), z_dir=(0, 1, 0))):
            with Locations(Location((0, 0, 0), (0, 0, 186.902951629))):  # turned: the seam where the file's is
                Circle(SKETCH17_R)
        extrude(amount=-CUT_EXTRUDE11_DEPTH, mode=Mode.SUBTRACT)

    # Sketch18 → Boss-Extrude6 (add)
    with SkipClean():  # keep this step's faces unmerged: merging them makes the solid invalid here
        with BuildSketch(Plane(origin=(6, 0, 0), x_dir=(0, 0, -1), z_dir=(1, 0, 0))):
            with BuildLine():
                Line((1, 3.5), (1, 7))
                Line((1, 7), (5, 7))
                Line((5, 7), (5, 3.5))
                ThreePointArc((5, 3.5), (3, 1.5), (1, 3.5))
            make_face()
            with Locations((3, 3.5)):
                Circle(SKETCH18_R, mode=Mode.SUBTRACT)
        boss_extrude6 = extrude(amount=BOSS_EXTRUDE6_DEPTH)

    # Sketch19 → Cut-Extrude12 (cut)
    with SkipClean():  # keep this step's faces unmerged: merging them makes the solid invalid here
        with BuildSketch(Plane.XY.offset(-1).offset(CUT_EXTRUDE12_START)):
            with Locations((7.651, 3.5)):
                Rectangle(SKETCH19_W, SKETCH19_H)
        cut_extrude12 = extrude(amount=CUT_EXTRUDE12_DEPTH, mode=Mode.SUBTRACT)

    # Mirror1: Boss-Extrude6, Cut-Extrude12 across plane
    with SkipClean():  # keep this step's faces unmerged: merging them makes the solid invalid here
        add(boss_extrude6.mirror(Plane(origin=(0, 0, 0), x_dir=(0, 0, 1), z_dir=(1, 0, 0))))
        add(cut_extrude12.mirror(Plane(origin=(0, 0, 0), x_dir=(0, 0, 1), z_dir=(1, 0, 0))), mode=Mode.SUBTRACT)


solid = part.part
